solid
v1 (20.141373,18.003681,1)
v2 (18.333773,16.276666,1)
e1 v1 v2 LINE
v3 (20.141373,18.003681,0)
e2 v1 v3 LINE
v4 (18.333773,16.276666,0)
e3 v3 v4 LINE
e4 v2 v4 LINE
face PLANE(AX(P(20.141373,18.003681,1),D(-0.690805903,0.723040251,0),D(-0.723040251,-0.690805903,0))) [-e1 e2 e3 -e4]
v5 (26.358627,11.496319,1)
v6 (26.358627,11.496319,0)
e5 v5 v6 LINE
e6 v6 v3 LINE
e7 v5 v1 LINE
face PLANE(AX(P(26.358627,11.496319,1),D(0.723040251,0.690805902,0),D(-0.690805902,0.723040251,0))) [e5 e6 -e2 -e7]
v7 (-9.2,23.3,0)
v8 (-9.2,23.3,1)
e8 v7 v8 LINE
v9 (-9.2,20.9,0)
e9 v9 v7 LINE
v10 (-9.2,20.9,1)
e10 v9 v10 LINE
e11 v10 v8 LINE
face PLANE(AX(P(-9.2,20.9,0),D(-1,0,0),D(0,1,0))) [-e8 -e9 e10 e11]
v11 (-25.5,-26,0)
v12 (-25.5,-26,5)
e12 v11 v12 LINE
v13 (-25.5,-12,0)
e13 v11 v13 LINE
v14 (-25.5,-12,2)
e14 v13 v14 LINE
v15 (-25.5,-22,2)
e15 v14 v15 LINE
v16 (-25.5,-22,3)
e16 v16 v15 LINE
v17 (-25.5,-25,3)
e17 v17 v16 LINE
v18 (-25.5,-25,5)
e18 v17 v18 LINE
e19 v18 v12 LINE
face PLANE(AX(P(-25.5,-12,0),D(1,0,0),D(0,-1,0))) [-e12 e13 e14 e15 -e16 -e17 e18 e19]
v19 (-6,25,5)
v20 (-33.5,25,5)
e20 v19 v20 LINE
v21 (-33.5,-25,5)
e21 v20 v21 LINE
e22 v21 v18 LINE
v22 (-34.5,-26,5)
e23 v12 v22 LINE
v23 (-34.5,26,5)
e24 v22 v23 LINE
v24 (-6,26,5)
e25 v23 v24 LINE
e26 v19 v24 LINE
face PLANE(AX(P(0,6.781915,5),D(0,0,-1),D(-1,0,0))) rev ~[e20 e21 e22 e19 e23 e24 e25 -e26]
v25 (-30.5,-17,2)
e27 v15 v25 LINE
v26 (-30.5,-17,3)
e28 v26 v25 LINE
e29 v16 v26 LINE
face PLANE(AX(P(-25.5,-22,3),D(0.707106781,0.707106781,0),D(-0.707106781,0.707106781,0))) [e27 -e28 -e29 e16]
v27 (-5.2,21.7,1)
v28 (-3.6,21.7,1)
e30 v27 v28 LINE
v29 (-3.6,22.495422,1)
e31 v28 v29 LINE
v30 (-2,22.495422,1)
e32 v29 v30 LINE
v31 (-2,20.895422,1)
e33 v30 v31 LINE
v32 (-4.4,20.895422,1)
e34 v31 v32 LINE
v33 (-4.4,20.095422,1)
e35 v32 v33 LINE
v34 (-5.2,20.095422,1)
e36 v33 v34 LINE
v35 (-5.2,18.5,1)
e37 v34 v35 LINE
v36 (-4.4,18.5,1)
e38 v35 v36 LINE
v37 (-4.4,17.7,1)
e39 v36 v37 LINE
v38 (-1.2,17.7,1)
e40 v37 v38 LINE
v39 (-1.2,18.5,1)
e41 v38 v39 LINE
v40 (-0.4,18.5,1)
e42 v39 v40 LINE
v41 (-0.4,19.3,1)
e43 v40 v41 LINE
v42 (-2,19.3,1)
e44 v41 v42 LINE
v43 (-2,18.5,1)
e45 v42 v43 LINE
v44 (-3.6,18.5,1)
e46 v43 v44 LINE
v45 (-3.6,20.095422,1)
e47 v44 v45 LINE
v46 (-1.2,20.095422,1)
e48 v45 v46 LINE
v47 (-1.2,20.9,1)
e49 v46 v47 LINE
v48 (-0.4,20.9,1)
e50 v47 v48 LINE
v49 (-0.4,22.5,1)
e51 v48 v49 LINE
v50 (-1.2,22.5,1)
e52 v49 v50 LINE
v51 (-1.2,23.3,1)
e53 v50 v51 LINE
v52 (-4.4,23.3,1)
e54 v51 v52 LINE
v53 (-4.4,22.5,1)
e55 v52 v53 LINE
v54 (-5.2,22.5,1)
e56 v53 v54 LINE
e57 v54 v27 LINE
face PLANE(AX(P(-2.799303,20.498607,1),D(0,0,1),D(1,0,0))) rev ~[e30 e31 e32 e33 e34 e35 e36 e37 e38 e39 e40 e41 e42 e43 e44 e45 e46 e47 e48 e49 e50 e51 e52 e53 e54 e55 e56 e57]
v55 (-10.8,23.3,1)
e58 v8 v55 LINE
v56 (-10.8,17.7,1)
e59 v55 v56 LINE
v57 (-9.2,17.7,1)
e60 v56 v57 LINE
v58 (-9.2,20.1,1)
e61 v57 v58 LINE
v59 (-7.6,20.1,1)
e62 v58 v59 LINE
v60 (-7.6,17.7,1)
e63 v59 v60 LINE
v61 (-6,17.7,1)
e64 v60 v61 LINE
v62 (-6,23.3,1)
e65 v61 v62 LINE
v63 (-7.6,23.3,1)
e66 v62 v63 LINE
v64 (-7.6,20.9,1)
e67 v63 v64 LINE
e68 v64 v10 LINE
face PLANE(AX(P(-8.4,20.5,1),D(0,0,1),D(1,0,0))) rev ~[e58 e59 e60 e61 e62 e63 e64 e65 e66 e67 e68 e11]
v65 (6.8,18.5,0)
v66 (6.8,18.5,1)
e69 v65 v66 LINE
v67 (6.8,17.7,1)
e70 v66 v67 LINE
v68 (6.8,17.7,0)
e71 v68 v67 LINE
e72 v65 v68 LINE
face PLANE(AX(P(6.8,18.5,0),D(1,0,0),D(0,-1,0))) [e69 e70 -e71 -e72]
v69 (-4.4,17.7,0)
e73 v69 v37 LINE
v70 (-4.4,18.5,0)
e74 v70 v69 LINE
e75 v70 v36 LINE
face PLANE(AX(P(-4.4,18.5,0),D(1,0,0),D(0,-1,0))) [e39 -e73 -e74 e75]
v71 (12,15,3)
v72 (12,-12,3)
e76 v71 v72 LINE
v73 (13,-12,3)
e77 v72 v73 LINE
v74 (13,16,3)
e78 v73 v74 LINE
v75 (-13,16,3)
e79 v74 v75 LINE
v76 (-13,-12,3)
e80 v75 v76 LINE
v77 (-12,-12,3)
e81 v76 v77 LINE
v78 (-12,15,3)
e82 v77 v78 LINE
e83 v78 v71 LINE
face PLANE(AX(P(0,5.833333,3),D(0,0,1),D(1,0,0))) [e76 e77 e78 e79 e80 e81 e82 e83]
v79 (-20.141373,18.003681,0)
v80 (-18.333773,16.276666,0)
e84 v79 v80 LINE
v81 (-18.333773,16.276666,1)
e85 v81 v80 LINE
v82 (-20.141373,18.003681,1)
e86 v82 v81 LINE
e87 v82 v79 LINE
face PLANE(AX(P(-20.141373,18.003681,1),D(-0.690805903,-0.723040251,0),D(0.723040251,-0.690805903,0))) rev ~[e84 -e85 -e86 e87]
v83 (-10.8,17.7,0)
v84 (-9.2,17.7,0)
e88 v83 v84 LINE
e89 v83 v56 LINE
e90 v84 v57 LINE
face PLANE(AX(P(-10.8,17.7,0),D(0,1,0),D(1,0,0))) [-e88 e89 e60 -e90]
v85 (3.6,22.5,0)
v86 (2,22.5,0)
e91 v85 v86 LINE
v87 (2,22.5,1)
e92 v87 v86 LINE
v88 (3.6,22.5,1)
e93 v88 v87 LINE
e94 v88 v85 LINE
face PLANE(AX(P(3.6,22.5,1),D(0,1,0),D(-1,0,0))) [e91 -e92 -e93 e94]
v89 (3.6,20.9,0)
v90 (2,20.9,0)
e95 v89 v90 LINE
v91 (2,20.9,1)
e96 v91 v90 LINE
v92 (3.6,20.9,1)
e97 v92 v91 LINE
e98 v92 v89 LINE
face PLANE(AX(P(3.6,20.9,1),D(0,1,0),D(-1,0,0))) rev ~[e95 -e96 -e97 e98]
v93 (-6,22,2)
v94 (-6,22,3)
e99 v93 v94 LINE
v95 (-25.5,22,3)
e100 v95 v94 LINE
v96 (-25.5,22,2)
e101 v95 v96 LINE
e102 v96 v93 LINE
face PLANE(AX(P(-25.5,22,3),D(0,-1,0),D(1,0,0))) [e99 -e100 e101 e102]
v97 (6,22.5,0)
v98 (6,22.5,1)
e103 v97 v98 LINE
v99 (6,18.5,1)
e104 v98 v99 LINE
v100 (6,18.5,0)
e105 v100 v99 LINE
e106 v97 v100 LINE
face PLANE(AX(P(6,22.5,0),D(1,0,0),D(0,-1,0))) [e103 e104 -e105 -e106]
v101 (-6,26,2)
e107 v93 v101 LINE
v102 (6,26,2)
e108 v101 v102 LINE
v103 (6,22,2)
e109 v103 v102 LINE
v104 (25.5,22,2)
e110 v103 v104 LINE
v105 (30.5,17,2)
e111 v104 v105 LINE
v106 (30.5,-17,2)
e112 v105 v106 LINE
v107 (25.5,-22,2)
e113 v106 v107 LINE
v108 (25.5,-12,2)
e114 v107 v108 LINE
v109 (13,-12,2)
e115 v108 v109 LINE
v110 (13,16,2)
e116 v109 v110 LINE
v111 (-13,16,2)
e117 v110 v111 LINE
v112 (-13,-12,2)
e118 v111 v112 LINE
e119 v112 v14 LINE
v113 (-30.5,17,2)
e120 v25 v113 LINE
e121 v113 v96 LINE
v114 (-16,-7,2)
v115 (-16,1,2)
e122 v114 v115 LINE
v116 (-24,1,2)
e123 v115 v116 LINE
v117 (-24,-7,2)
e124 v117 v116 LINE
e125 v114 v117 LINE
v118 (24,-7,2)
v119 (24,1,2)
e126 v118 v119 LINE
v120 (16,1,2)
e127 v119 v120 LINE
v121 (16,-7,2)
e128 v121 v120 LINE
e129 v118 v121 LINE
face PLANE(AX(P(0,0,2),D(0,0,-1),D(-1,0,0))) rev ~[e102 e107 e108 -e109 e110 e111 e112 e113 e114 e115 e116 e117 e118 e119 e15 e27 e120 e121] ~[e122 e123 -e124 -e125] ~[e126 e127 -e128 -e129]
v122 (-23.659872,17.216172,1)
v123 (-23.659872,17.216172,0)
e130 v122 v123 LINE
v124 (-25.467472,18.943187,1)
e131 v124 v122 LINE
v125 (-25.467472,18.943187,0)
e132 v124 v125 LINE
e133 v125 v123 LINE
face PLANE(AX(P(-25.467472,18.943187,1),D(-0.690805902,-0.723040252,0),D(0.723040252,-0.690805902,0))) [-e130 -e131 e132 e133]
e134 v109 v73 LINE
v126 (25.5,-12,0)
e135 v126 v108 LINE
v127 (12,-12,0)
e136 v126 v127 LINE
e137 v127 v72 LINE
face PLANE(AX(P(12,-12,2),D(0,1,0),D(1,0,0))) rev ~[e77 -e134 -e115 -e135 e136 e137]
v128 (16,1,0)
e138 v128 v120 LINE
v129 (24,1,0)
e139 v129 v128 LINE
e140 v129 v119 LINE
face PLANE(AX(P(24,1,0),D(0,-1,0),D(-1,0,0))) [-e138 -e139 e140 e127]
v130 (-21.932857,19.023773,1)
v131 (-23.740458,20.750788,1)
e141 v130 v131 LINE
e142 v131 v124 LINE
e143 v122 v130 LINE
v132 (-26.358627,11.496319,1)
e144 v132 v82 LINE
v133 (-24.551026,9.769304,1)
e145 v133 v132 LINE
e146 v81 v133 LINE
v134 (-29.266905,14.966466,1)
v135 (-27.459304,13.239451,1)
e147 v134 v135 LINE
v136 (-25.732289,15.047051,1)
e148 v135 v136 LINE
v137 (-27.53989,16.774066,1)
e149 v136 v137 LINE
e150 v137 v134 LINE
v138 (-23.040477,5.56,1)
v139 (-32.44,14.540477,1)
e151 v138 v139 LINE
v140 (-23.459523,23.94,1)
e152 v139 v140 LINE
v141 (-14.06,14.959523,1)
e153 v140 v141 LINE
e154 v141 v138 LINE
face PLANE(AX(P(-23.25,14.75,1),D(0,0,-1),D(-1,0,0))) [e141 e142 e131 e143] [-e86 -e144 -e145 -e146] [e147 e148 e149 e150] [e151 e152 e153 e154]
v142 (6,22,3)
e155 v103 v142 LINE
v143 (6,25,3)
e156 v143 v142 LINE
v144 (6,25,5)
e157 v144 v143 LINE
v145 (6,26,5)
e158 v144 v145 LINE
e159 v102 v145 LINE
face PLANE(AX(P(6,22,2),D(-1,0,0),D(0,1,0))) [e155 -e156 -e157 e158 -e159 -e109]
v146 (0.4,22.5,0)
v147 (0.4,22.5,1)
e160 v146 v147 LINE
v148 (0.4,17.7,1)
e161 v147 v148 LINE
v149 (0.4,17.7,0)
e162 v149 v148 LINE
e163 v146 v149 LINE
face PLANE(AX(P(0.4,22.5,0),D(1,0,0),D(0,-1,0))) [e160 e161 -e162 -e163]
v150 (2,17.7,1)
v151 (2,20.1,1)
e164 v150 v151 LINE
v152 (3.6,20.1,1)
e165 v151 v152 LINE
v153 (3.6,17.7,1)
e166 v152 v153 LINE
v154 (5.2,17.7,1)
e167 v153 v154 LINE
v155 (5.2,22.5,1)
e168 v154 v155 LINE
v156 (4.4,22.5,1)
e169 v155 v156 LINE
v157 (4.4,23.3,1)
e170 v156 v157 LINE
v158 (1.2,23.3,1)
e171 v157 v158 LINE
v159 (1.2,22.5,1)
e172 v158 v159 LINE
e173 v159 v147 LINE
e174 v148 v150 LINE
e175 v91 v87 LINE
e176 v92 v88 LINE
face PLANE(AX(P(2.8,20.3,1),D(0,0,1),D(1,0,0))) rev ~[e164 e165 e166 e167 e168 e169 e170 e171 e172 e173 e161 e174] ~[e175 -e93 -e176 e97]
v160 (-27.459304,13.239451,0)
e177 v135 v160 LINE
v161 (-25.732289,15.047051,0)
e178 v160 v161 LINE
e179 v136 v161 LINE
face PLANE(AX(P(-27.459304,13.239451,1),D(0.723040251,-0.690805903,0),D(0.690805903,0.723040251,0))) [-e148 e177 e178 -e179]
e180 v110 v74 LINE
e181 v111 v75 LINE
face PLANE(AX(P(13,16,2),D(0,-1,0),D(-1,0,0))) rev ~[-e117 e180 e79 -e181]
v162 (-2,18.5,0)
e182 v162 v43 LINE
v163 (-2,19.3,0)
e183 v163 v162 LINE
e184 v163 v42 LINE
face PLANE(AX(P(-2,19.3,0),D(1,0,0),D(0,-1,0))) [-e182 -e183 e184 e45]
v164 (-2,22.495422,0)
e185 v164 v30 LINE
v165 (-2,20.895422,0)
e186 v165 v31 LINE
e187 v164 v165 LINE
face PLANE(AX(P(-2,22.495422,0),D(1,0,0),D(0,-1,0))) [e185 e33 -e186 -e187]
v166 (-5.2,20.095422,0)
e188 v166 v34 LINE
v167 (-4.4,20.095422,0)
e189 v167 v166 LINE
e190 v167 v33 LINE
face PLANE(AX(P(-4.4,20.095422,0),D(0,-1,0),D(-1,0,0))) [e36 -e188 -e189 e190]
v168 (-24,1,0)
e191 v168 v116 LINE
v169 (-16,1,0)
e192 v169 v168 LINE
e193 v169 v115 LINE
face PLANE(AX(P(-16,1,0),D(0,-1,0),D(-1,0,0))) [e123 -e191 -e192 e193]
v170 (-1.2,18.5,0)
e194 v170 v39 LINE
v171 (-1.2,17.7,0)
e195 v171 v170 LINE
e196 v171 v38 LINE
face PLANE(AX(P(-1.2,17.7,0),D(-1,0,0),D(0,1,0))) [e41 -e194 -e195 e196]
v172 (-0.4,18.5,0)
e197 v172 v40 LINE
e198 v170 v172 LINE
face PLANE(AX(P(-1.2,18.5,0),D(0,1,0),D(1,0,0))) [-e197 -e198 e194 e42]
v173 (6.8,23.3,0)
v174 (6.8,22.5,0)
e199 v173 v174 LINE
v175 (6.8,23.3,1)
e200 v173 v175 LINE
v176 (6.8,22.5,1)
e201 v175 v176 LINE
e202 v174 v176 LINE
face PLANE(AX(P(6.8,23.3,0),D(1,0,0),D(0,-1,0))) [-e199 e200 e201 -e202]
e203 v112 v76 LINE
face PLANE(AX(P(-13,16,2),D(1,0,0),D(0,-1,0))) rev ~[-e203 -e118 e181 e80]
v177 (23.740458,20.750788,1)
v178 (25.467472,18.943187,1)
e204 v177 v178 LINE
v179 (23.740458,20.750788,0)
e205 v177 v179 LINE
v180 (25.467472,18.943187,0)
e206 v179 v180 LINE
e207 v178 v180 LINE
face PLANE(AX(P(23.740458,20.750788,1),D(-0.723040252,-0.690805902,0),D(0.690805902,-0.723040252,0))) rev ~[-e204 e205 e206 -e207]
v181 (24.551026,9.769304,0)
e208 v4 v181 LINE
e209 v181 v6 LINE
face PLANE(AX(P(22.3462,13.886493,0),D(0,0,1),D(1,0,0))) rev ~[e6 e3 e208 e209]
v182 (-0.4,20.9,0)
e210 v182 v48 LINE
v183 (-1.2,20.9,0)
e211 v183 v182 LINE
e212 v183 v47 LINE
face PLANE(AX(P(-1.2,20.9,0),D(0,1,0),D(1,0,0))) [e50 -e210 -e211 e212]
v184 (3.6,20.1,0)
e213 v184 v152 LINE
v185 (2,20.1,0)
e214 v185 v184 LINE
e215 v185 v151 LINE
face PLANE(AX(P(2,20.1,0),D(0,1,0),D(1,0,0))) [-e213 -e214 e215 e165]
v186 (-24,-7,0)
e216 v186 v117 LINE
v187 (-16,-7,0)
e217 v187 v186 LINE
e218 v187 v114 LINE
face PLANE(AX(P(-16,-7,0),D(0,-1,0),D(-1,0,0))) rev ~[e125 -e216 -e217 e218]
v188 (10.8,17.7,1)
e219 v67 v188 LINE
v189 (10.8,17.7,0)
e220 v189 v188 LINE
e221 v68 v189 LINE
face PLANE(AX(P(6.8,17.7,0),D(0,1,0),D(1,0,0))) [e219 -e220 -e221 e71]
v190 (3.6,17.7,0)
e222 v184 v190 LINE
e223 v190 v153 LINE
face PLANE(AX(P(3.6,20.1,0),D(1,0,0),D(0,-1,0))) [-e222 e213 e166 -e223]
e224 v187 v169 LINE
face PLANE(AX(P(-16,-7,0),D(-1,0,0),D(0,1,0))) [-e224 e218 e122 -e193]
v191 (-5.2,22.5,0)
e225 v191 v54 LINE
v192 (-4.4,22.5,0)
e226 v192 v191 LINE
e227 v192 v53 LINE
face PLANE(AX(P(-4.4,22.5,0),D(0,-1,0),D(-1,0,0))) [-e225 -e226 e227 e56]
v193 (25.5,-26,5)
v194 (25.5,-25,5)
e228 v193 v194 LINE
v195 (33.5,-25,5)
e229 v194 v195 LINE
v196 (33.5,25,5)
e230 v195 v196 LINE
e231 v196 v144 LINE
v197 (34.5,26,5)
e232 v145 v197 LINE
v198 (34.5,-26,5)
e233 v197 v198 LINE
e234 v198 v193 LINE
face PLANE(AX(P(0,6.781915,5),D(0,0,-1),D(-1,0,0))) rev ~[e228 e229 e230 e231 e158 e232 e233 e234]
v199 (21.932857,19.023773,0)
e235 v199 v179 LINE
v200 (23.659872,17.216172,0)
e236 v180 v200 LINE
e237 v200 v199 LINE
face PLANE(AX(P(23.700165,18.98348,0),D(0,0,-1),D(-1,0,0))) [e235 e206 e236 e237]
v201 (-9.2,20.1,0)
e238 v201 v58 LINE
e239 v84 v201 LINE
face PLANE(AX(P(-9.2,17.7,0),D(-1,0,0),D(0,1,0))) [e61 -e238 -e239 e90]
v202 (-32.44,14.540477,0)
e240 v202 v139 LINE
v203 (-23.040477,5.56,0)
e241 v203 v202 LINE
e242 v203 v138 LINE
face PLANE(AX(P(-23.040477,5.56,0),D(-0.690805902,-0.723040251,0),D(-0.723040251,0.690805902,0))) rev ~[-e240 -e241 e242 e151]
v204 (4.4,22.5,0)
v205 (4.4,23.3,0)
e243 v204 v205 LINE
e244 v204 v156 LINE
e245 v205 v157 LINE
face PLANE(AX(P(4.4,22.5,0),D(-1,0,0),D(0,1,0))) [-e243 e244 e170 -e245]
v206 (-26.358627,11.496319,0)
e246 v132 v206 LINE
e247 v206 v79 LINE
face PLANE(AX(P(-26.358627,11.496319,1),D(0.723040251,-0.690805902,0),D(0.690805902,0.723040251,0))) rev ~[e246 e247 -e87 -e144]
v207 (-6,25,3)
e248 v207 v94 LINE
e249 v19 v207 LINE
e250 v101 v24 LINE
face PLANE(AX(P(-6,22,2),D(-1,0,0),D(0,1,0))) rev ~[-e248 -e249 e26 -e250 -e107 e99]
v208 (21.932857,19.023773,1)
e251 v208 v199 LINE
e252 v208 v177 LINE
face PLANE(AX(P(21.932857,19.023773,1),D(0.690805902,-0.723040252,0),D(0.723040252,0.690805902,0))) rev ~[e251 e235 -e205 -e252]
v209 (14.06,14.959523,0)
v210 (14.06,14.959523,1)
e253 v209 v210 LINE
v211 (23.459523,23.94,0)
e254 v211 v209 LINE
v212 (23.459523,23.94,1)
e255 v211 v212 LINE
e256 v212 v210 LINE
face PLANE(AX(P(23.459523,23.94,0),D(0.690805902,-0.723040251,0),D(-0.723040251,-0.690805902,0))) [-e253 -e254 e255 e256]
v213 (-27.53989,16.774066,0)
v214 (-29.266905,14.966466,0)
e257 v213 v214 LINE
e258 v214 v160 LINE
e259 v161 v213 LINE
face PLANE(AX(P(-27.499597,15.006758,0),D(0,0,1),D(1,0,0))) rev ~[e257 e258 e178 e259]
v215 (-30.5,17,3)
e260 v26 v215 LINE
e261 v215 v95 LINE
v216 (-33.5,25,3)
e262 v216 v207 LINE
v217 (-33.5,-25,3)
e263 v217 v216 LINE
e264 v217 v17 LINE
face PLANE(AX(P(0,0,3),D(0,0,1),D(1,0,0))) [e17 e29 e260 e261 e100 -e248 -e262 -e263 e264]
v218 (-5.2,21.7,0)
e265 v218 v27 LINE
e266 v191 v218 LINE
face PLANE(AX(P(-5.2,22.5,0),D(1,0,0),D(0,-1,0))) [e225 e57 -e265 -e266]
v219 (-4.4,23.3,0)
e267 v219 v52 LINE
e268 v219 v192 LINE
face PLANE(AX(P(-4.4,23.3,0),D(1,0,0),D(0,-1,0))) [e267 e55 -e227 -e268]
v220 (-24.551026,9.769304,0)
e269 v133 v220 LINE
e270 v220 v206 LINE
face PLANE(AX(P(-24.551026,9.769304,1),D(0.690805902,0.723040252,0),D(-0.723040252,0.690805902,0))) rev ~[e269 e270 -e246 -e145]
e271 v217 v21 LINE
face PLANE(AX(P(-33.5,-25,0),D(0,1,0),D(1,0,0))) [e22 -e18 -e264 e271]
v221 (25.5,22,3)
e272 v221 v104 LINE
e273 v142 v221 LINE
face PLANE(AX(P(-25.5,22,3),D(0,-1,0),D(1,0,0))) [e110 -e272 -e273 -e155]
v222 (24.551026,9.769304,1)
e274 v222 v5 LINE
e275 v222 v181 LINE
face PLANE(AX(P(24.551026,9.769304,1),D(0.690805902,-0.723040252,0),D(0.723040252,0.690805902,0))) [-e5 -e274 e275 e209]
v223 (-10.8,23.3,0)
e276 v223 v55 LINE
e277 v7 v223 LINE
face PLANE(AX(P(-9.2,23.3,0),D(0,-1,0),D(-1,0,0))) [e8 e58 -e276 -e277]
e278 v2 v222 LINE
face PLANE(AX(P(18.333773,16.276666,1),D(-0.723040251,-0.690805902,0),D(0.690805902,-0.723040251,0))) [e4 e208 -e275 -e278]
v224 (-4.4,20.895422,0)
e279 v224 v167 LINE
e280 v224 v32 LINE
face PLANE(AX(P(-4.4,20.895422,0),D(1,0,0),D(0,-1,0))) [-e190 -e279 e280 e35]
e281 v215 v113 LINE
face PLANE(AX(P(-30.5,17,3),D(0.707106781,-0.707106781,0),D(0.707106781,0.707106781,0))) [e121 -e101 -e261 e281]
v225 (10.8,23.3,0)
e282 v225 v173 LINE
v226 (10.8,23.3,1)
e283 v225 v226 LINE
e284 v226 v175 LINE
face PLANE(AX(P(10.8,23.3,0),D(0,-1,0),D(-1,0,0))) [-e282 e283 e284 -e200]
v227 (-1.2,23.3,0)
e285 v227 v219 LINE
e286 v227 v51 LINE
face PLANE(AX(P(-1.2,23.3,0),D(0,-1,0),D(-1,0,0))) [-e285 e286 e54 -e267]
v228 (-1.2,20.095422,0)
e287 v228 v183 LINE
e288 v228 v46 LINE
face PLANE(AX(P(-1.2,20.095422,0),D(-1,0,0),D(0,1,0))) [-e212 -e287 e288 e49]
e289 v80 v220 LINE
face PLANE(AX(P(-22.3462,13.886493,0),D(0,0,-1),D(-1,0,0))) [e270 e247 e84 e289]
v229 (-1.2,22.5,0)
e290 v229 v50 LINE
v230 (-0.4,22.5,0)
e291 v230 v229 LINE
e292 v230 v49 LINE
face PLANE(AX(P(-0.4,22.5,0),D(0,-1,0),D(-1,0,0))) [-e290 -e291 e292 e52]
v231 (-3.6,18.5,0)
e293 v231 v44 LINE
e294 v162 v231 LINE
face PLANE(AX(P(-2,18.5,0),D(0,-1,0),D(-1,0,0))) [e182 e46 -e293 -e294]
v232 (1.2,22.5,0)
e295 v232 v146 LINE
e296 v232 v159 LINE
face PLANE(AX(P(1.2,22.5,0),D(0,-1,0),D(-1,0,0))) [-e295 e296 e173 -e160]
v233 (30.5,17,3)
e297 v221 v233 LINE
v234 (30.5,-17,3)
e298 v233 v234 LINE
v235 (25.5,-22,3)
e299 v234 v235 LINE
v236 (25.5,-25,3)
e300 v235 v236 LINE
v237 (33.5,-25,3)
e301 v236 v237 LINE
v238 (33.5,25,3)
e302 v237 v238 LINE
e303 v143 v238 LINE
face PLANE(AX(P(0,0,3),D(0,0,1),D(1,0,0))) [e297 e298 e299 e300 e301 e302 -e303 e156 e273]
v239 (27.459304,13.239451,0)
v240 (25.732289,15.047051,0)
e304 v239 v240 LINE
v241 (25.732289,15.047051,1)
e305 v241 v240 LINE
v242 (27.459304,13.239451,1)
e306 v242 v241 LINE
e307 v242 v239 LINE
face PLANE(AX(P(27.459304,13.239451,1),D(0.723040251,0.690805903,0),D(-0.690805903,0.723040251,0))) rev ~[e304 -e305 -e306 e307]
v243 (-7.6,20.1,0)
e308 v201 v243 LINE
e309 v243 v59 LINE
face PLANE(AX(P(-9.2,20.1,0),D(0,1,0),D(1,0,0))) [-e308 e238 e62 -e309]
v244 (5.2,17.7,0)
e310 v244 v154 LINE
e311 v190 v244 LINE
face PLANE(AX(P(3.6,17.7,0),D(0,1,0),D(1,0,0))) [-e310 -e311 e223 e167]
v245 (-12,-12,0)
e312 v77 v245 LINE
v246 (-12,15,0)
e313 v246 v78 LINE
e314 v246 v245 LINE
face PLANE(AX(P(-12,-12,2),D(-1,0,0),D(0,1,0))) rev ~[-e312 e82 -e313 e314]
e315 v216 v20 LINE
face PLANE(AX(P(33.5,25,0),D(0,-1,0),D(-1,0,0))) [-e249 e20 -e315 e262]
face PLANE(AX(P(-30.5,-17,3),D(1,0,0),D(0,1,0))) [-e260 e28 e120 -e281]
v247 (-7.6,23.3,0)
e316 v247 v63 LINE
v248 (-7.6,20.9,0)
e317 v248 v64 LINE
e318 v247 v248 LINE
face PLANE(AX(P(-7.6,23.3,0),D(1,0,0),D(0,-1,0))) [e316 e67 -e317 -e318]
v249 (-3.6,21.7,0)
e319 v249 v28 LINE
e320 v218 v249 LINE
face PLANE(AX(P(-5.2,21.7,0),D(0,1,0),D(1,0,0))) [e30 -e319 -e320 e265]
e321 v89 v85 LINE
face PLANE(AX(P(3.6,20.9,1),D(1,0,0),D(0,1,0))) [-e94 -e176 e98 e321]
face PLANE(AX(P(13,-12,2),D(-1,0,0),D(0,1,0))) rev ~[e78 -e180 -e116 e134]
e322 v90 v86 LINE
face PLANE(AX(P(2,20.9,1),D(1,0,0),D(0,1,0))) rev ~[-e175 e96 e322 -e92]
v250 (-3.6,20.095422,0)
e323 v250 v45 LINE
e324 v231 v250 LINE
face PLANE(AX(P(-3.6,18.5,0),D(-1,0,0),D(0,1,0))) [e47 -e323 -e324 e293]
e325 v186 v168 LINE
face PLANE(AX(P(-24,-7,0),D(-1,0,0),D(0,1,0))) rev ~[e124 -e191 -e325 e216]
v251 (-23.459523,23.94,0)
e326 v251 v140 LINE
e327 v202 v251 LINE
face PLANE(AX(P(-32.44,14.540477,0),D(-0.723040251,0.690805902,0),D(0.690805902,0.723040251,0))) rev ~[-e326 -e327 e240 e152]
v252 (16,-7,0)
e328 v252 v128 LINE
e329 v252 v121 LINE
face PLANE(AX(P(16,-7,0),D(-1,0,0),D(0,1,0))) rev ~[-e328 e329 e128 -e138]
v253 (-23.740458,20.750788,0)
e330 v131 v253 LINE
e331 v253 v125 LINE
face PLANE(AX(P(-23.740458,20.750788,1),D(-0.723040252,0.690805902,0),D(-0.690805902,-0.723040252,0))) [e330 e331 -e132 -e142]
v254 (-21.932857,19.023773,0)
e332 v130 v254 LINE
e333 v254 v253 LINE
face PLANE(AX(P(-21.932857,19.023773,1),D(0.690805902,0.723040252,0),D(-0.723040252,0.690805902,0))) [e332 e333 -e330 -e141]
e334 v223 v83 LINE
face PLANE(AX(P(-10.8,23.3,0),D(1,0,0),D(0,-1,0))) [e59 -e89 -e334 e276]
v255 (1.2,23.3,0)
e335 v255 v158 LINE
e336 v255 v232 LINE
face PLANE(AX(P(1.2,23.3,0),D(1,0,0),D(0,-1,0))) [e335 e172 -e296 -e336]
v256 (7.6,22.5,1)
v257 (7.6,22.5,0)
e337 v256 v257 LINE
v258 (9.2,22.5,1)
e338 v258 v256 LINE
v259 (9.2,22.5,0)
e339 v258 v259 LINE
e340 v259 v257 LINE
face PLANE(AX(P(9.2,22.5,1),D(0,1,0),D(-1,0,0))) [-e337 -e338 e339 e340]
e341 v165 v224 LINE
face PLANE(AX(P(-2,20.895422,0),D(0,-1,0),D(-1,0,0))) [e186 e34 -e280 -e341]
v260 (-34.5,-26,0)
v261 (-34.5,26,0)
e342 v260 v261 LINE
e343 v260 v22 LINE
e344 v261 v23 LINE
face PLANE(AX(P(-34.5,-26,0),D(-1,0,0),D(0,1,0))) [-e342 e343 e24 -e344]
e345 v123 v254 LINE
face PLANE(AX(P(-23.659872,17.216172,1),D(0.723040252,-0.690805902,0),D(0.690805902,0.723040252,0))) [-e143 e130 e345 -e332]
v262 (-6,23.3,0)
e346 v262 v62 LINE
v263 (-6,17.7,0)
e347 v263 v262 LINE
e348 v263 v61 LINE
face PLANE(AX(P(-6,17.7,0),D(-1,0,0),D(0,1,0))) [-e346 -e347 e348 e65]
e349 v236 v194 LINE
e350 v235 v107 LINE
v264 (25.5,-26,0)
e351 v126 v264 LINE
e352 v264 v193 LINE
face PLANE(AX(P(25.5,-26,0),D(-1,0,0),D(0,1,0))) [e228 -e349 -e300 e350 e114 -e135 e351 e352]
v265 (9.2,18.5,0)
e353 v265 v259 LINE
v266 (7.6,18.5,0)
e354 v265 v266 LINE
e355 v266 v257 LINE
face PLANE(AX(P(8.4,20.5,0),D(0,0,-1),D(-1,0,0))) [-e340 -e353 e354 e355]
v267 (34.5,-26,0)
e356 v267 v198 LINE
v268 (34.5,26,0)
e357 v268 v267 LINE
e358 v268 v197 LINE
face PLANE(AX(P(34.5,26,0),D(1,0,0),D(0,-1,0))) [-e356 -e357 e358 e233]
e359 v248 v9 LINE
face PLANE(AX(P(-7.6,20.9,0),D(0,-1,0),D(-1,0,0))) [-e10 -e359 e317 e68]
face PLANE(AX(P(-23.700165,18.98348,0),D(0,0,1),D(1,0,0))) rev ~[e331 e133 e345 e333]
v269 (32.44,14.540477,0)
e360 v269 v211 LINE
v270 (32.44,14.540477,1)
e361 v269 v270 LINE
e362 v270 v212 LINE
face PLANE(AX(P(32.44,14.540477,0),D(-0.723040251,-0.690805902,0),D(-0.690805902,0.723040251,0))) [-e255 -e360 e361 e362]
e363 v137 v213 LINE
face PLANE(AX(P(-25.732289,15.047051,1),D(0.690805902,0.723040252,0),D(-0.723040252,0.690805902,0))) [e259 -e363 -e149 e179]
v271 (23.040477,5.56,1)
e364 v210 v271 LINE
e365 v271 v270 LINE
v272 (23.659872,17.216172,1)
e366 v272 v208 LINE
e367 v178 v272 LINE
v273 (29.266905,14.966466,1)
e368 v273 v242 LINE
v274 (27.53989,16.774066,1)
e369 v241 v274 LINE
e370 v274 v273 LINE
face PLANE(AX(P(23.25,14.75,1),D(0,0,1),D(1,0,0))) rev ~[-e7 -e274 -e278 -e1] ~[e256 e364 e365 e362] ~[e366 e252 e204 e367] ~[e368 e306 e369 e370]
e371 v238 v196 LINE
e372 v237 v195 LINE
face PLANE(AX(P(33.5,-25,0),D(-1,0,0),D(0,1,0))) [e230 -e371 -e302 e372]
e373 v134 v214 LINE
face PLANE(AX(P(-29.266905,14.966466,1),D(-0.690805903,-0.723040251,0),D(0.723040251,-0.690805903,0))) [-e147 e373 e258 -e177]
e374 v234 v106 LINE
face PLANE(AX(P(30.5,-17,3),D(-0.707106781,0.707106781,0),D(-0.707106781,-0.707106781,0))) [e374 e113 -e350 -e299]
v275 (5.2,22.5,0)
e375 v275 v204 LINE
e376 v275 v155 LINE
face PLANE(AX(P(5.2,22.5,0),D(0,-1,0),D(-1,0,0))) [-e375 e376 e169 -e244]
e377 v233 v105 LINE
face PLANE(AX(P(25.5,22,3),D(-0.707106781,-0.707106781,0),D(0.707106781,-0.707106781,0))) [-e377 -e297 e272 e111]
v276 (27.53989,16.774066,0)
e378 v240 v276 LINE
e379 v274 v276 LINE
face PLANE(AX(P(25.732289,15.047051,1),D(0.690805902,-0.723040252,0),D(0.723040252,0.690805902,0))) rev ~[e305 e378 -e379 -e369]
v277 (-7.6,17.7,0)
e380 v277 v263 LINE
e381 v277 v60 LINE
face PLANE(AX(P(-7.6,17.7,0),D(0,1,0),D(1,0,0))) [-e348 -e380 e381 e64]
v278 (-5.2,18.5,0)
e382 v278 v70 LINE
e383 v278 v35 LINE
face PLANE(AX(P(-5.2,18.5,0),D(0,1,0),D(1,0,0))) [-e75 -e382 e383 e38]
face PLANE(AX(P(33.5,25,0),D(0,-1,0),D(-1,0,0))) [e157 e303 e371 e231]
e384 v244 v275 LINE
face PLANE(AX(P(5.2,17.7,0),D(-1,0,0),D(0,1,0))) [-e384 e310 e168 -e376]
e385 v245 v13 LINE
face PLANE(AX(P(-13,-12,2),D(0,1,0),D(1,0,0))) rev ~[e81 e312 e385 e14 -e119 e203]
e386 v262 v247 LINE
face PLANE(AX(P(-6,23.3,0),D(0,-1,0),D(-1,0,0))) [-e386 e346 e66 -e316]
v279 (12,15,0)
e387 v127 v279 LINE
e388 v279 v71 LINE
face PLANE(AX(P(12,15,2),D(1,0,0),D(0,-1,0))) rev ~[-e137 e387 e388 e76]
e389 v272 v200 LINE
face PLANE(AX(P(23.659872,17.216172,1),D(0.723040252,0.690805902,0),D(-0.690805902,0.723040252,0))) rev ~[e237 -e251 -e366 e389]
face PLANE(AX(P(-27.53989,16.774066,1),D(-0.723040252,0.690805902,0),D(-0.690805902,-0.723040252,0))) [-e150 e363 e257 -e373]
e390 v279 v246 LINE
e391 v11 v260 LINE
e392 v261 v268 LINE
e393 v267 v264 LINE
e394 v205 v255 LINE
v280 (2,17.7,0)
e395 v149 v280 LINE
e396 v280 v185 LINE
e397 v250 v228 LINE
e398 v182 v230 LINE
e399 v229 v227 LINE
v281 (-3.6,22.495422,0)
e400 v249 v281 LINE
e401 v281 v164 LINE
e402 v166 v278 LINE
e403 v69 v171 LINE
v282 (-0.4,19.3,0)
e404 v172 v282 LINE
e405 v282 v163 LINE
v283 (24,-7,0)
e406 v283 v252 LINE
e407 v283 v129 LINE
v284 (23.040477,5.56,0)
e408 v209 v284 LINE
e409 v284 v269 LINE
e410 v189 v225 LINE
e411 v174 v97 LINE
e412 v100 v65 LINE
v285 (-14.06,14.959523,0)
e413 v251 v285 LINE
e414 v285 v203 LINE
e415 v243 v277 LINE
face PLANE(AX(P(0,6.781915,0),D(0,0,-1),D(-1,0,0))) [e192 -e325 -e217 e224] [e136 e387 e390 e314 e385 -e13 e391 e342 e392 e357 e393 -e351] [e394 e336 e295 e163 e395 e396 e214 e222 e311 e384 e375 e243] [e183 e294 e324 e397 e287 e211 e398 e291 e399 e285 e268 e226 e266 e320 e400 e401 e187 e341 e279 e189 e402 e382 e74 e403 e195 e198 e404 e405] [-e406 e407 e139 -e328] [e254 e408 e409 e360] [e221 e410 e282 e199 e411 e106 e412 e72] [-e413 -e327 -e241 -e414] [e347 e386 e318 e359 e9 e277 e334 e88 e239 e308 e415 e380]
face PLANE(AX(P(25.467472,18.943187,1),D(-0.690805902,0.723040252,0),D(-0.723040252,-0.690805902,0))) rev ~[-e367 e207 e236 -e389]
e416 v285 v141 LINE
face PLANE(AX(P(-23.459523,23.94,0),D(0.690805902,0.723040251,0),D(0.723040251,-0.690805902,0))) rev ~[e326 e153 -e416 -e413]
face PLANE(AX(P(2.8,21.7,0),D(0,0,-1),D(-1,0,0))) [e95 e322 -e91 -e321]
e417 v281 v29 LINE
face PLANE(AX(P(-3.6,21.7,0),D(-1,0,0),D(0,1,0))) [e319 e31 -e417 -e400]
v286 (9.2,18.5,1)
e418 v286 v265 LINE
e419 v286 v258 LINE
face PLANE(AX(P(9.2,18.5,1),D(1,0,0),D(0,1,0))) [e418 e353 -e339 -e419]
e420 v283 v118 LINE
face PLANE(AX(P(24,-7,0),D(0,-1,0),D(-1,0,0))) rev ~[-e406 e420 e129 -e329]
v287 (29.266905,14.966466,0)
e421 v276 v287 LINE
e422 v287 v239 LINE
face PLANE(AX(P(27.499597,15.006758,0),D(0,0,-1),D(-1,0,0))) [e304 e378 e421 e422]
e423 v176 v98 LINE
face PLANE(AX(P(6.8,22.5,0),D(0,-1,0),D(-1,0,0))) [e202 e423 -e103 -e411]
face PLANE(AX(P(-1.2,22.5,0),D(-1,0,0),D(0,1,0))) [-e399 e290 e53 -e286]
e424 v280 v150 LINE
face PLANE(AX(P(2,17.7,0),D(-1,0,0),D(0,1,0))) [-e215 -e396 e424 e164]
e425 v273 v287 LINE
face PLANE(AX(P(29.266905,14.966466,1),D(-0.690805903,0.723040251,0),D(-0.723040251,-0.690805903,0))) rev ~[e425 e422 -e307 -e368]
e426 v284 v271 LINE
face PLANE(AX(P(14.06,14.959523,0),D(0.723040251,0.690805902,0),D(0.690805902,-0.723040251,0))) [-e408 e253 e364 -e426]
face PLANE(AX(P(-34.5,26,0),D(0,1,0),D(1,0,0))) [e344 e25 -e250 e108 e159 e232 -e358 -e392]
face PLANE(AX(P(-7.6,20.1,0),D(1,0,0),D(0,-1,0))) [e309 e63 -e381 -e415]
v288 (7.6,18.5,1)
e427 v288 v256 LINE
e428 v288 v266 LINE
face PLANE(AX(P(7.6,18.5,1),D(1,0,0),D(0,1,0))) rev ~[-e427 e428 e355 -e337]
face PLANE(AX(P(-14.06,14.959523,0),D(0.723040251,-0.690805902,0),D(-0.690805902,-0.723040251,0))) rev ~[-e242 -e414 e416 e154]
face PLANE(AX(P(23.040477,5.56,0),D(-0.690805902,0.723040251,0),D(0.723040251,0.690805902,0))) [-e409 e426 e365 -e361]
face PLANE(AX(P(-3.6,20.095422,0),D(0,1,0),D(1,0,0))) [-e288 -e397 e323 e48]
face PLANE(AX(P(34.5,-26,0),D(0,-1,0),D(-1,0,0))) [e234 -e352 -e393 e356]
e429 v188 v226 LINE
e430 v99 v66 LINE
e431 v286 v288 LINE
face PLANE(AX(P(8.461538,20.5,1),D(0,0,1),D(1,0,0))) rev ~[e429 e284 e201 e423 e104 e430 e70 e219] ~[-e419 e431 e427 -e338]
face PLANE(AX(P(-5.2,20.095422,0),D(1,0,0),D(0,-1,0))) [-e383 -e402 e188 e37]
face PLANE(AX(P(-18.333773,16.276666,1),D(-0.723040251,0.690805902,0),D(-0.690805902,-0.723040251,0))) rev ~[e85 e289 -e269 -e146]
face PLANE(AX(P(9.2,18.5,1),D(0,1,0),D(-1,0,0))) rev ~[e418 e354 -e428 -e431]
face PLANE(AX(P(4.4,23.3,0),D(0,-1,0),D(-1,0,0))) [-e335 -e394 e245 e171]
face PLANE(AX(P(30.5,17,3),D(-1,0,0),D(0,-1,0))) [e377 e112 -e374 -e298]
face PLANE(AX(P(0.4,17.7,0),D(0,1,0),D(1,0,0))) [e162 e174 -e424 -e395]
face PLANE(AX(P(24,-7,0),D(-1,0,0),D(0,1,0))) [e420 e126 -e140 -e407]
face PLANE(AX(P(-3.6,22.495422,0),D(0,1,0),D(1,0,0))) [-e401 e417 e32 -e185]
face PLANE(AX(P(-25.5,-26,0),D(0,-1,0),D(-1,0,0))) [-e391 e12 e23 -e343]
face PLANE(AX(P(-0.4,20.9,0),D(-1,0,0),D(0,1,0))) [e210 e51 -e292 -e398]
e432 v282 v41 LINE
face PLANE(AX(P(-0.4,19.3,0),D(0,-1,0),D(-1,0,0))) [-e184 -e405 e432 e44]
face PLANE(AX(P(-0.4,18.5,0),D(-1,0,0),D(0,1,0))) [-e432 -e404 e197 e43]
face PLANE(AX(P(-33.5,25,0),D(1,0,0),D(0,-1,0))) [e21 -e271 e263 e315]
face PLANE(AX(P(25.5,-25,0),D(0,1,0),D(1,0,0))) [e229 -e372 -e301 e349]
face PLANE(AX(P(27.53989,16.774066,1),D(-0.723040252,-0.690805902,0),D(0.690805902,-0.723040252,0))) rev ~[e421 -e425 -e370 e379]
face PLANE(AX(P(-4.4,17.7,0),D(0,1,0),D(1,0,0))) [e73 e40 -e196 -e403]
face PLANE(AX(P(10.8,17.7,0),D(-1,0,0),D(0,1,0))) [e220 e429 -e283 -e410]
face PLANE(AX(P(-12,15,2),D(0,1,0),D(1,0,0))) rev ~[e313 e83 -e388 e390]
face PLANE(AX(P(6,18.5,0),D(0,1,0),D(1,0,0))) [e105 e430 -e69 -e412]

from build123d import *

# Parameters (mm, degrees)
SKICA1_W                    = 67
SKICA1_H                    = 50
P_IDAT_VYSUNUT_M1_DEPTH     = 3
ODEBRAT_VYSUNUT_M1_DEPTH    = 1
SKICA3_W                    = 8
SKICA3_H                    = 8
ODEBRAT_VYSUNUT_M2_DEPTH    = 4
VYSUNOUT_TENKOST_NN_1_DEPTH = 1
VYSUNOUT_TENKOST_NN_2_DEPTH = 5
SKICA6_W                    = 12
SKICA6_H                    = 4
ODEBRAT_VYSUNUT_M3_DEPTH    = 4
ODEBRAT_VYSUNUT_M5_DEPTH    = 1
P_IDAT_START                = -1
P_IDAT_VYSUNUT_M3_DEPTH     = 1
ODEBRAT_VYSUNUT_M7_DEPTH    = 1
SKICA10_W                   = 1.6
SKICA10_H                   = 4
SKICA10_H_2                 = 1.6
P_IDAT_VYSUNUT_M4_DEPTH     = 1


with BuildPart() as part:
    # Skica1 → Přidat vysunutím1 (new body)
    with BuildSketch(Plane.XY):
        Rectangle(SKICA1_W, SKICA1_H)
    extrude(amount=P_IDAT_VYSUNUT_M1_DEPTH)

    # Skica2 → Odebrat vysunutím1 (cut)
    with BuildSketch(Plane.XY.offset(3)):
        Polygon((-25.5, -22), (-30.5, -17), (-30.5, 17), (-25.5, 22), (25.5, 22), (30.5, 17), (30.5, -17), (25.5, -22), align=None)
    extrude(amount=-ODEBRAT_VYSUNUT_M1_DEPTH, mode=Mode.SUBTRACT)

    # Skica3 → Odebrat vysunutím2 (cut, through all)
    with BuildSketch(Plane(origin=(0, 0, 0), x_dir=(-1, 0, 0), z_dir=(0, 0, -1))):
        with Locations((20, -3)):
            Rectangle(SKICA3_W, SKICA3_H)
        with Locations((-20, -3)):
            Rectangle(SKICA3_W, SKICA3_H)
        Polygon((25.5, -25), (-25.5, -25), (-25.5, -12), (-12, -12), (-12, 15), (12, 15), (12, -12), (25.5, -12), align=None)
    extrude(amount=-ODEBRAT_VYSUNUT_M2_DEPTH, mode=Mode.SUBTRACT)

    # Skica4 → Vysunout tenkostěnný1 (add)
    with BuildSketch(Plane.XY.offset(2)):
        Polygon((-12, -12), (-12, 15), (12, 15), (12, -12), (13, -12), (13, 16), (-13, 16), (-13, -12), align=None)
    extrude(amount=VYSUNOUT_TENKOST_NN_1_DEPTH)

    # Skica5 → Vysunout tenkostěnný2 (add)
    with BuildSketch(Plane(origin=(0, 0, 0), x_dir=(-1, 0, 0), z_dir=(0, 0, -1))):
        Polygon((-25.5, -25), (-33.5, -25), (-33.5, 25), (33.5, 25), (33.5, -25), (25.5, -25), (25.5, -26), (34.5, -26), (34.5, 26), (-34.5, 26), (-34.5, -26), (-25.5, -26), align=None)
    extrude(amount=-VYSUNOUT_TENKOST_NN_2_DEPTH)

    # Skica6 → Odebrat vysunutím3 (cut, through all)
    with BuildSketch(Plane.XY.offset(2)):
        with Locations((0, 24)):
            Rectangle(SKICA6_W, SKICA6_H)
    extrude(amount=ODEBRAT_VYSUNUT_M3_DEPTH, mode=Mode.SUBTRACT)

    # Skica7 → Odebrat vysunutím5 (cut)
    with BuildSketch(Plane(origin=(0, 0, 0), x_dir=(-1, 0, 0), z_dir=(0, 0, -1))):
        Polygon((-32.44, 14.540476732), (-23.459523268, 23.94), (-14.06, 14.959523268), (-23.040476732, 5.56), align=None)
        Polygon((14.06, 14.959523268), (23.040476732, 5.56), (32.44, 14.540476732), (23.459523268, 23.94), align=None)
    extrude(amount=-ODEBRAT_VYSUNUT_M5_DEPTH, mode=Mode.SUBTRACT)

    # Skica8 → Přidat vysunutím3 (add)
    with BuildSketch(Plane(origin=(0, 0, 0), x_dir=(-1, 0, 0), z_dir=(0, 0, -1)).offset(P_IDAT_START)):
        Polygon((-29.266904741, 14.966465555), (-27.459304113, 13.239450799), (-25.732289356, 15.047051428), (-27.539889985, 16.774066184), align=None)
        Polygon((-25.467472278, 18.943186938), (-23.659871649, 17.216172182), (-21.932856893, 19.023772811), (-23.740457522, 20.750787567), align=None)
        Polygon((-18.333772811, 16.276666375), (-24.551025932, 9.769304113), (-26.358626561, 11.496318869), (-20.141373439, 18.003681131), align=None)
        Polygon((21.932856893, 19.023772811), (23.740457522, 20.750787567), (25.467472278, 18.943186938), (23.659871649, 17.216172182), align=None)
        Polygon((25.732289356, 15.047051428), (27.539889985, 16.774066184), (29.266904741, 14.966465555), (27.459304113, 13.239450799), align=None)
        Polygon((18.333772811, 16.276666375), (24.551025932, 9.769304113), (26.358626561, 11.496318869), (20.141373439, 18.003681131), align=None)
    extrude(amount=P_IDAT_VYSUNUT_M3_DEPTH)

    # Skica9 → Odebrat vysunutím7 (cut)
    with BuildSketch(Plane(origin=(0, 0, 0), x_dir=(-1, 0, 0), z_dir=(0, 0, -1))):
        Polygon((-10.8, 23.3), (-6.8, 23.3), (-6.8, 22.5), (-6, 22.5), (-6, 18.5), (-6.8, 18.5), (-6.8, 17.7), (-10.8, 17.7), align=None)
        Polygon((-4.4, 23.3), (-1.2, 23.3), (-1.2, 22.5), (-0.4, 22.5), (-0.4, 17.7), (-2, 17.7), (-2, 20.1), (-3.6, 20.1), (-3.6, 17.7), (-5.2, 17.7), (-5.2, 22.5), (-4.4, 22.5), align=None)
        Polygon((1.2, 23.3), (4.4, 23.3), (4.4, 22.5), (5.2, 22.5), (5.2, 21.7), (3.6, 21.7), (3.6, 22.49542164), (2, 22.49542164), (2, 20.89542164), (4.4, 20.89542164), (4.4, 20.09542164), (5.2, 20.09542164), (5.2, 18.5), (4.4, 18.5), (4.4, 17.7), (1.2, 17.7), (1.2, 18.5), (0.4, 18.5), (0.4, 19.3), (2, 19.3), (2, 18.5), (3.6, 18.5), (3.6, 20.09542164), (1.2, 20.09542164), (1.2, 20.9), (0.4, 20.9), (0.4, 22.5), (1.2, 22.5), align=None)
        Polygon((6, 23.3), (7.6, 23.3), (7.6, 20.9), (9.2, 20.9), (9.2, 23.3), (10.8, 23.3), (10.8, 17.7), (9.2, 17.7), (9.2, 20.1), (7.6, 20.1), (7.6, 17.7), (6, 17.7), align=None)
    extrude(amount=-ODEBRAT_VYSUNUT_M7_DEPTH, mode=Mode.SUBTRACT)

    # Skica10 → Přidat vysunutím4 (add)
    with BuildSketch(Plane(origin=(0, 0, 0), x_dir=(-1, 0, 0), z_dir=(0, 0, -1)).offset(P_IDAT_START)):
        with Locations((-8.4, 20.5)):
            Rectangle(SKICA10_W, SKICA10_H)
        with Locations((-2.8, 21.7)):
            Rectangle(SKICA10_W, SKICA10_H_2)
    extrude(amount=P_IDAT_VYSUNUT_M4_DEPTH)


solid = part.part
